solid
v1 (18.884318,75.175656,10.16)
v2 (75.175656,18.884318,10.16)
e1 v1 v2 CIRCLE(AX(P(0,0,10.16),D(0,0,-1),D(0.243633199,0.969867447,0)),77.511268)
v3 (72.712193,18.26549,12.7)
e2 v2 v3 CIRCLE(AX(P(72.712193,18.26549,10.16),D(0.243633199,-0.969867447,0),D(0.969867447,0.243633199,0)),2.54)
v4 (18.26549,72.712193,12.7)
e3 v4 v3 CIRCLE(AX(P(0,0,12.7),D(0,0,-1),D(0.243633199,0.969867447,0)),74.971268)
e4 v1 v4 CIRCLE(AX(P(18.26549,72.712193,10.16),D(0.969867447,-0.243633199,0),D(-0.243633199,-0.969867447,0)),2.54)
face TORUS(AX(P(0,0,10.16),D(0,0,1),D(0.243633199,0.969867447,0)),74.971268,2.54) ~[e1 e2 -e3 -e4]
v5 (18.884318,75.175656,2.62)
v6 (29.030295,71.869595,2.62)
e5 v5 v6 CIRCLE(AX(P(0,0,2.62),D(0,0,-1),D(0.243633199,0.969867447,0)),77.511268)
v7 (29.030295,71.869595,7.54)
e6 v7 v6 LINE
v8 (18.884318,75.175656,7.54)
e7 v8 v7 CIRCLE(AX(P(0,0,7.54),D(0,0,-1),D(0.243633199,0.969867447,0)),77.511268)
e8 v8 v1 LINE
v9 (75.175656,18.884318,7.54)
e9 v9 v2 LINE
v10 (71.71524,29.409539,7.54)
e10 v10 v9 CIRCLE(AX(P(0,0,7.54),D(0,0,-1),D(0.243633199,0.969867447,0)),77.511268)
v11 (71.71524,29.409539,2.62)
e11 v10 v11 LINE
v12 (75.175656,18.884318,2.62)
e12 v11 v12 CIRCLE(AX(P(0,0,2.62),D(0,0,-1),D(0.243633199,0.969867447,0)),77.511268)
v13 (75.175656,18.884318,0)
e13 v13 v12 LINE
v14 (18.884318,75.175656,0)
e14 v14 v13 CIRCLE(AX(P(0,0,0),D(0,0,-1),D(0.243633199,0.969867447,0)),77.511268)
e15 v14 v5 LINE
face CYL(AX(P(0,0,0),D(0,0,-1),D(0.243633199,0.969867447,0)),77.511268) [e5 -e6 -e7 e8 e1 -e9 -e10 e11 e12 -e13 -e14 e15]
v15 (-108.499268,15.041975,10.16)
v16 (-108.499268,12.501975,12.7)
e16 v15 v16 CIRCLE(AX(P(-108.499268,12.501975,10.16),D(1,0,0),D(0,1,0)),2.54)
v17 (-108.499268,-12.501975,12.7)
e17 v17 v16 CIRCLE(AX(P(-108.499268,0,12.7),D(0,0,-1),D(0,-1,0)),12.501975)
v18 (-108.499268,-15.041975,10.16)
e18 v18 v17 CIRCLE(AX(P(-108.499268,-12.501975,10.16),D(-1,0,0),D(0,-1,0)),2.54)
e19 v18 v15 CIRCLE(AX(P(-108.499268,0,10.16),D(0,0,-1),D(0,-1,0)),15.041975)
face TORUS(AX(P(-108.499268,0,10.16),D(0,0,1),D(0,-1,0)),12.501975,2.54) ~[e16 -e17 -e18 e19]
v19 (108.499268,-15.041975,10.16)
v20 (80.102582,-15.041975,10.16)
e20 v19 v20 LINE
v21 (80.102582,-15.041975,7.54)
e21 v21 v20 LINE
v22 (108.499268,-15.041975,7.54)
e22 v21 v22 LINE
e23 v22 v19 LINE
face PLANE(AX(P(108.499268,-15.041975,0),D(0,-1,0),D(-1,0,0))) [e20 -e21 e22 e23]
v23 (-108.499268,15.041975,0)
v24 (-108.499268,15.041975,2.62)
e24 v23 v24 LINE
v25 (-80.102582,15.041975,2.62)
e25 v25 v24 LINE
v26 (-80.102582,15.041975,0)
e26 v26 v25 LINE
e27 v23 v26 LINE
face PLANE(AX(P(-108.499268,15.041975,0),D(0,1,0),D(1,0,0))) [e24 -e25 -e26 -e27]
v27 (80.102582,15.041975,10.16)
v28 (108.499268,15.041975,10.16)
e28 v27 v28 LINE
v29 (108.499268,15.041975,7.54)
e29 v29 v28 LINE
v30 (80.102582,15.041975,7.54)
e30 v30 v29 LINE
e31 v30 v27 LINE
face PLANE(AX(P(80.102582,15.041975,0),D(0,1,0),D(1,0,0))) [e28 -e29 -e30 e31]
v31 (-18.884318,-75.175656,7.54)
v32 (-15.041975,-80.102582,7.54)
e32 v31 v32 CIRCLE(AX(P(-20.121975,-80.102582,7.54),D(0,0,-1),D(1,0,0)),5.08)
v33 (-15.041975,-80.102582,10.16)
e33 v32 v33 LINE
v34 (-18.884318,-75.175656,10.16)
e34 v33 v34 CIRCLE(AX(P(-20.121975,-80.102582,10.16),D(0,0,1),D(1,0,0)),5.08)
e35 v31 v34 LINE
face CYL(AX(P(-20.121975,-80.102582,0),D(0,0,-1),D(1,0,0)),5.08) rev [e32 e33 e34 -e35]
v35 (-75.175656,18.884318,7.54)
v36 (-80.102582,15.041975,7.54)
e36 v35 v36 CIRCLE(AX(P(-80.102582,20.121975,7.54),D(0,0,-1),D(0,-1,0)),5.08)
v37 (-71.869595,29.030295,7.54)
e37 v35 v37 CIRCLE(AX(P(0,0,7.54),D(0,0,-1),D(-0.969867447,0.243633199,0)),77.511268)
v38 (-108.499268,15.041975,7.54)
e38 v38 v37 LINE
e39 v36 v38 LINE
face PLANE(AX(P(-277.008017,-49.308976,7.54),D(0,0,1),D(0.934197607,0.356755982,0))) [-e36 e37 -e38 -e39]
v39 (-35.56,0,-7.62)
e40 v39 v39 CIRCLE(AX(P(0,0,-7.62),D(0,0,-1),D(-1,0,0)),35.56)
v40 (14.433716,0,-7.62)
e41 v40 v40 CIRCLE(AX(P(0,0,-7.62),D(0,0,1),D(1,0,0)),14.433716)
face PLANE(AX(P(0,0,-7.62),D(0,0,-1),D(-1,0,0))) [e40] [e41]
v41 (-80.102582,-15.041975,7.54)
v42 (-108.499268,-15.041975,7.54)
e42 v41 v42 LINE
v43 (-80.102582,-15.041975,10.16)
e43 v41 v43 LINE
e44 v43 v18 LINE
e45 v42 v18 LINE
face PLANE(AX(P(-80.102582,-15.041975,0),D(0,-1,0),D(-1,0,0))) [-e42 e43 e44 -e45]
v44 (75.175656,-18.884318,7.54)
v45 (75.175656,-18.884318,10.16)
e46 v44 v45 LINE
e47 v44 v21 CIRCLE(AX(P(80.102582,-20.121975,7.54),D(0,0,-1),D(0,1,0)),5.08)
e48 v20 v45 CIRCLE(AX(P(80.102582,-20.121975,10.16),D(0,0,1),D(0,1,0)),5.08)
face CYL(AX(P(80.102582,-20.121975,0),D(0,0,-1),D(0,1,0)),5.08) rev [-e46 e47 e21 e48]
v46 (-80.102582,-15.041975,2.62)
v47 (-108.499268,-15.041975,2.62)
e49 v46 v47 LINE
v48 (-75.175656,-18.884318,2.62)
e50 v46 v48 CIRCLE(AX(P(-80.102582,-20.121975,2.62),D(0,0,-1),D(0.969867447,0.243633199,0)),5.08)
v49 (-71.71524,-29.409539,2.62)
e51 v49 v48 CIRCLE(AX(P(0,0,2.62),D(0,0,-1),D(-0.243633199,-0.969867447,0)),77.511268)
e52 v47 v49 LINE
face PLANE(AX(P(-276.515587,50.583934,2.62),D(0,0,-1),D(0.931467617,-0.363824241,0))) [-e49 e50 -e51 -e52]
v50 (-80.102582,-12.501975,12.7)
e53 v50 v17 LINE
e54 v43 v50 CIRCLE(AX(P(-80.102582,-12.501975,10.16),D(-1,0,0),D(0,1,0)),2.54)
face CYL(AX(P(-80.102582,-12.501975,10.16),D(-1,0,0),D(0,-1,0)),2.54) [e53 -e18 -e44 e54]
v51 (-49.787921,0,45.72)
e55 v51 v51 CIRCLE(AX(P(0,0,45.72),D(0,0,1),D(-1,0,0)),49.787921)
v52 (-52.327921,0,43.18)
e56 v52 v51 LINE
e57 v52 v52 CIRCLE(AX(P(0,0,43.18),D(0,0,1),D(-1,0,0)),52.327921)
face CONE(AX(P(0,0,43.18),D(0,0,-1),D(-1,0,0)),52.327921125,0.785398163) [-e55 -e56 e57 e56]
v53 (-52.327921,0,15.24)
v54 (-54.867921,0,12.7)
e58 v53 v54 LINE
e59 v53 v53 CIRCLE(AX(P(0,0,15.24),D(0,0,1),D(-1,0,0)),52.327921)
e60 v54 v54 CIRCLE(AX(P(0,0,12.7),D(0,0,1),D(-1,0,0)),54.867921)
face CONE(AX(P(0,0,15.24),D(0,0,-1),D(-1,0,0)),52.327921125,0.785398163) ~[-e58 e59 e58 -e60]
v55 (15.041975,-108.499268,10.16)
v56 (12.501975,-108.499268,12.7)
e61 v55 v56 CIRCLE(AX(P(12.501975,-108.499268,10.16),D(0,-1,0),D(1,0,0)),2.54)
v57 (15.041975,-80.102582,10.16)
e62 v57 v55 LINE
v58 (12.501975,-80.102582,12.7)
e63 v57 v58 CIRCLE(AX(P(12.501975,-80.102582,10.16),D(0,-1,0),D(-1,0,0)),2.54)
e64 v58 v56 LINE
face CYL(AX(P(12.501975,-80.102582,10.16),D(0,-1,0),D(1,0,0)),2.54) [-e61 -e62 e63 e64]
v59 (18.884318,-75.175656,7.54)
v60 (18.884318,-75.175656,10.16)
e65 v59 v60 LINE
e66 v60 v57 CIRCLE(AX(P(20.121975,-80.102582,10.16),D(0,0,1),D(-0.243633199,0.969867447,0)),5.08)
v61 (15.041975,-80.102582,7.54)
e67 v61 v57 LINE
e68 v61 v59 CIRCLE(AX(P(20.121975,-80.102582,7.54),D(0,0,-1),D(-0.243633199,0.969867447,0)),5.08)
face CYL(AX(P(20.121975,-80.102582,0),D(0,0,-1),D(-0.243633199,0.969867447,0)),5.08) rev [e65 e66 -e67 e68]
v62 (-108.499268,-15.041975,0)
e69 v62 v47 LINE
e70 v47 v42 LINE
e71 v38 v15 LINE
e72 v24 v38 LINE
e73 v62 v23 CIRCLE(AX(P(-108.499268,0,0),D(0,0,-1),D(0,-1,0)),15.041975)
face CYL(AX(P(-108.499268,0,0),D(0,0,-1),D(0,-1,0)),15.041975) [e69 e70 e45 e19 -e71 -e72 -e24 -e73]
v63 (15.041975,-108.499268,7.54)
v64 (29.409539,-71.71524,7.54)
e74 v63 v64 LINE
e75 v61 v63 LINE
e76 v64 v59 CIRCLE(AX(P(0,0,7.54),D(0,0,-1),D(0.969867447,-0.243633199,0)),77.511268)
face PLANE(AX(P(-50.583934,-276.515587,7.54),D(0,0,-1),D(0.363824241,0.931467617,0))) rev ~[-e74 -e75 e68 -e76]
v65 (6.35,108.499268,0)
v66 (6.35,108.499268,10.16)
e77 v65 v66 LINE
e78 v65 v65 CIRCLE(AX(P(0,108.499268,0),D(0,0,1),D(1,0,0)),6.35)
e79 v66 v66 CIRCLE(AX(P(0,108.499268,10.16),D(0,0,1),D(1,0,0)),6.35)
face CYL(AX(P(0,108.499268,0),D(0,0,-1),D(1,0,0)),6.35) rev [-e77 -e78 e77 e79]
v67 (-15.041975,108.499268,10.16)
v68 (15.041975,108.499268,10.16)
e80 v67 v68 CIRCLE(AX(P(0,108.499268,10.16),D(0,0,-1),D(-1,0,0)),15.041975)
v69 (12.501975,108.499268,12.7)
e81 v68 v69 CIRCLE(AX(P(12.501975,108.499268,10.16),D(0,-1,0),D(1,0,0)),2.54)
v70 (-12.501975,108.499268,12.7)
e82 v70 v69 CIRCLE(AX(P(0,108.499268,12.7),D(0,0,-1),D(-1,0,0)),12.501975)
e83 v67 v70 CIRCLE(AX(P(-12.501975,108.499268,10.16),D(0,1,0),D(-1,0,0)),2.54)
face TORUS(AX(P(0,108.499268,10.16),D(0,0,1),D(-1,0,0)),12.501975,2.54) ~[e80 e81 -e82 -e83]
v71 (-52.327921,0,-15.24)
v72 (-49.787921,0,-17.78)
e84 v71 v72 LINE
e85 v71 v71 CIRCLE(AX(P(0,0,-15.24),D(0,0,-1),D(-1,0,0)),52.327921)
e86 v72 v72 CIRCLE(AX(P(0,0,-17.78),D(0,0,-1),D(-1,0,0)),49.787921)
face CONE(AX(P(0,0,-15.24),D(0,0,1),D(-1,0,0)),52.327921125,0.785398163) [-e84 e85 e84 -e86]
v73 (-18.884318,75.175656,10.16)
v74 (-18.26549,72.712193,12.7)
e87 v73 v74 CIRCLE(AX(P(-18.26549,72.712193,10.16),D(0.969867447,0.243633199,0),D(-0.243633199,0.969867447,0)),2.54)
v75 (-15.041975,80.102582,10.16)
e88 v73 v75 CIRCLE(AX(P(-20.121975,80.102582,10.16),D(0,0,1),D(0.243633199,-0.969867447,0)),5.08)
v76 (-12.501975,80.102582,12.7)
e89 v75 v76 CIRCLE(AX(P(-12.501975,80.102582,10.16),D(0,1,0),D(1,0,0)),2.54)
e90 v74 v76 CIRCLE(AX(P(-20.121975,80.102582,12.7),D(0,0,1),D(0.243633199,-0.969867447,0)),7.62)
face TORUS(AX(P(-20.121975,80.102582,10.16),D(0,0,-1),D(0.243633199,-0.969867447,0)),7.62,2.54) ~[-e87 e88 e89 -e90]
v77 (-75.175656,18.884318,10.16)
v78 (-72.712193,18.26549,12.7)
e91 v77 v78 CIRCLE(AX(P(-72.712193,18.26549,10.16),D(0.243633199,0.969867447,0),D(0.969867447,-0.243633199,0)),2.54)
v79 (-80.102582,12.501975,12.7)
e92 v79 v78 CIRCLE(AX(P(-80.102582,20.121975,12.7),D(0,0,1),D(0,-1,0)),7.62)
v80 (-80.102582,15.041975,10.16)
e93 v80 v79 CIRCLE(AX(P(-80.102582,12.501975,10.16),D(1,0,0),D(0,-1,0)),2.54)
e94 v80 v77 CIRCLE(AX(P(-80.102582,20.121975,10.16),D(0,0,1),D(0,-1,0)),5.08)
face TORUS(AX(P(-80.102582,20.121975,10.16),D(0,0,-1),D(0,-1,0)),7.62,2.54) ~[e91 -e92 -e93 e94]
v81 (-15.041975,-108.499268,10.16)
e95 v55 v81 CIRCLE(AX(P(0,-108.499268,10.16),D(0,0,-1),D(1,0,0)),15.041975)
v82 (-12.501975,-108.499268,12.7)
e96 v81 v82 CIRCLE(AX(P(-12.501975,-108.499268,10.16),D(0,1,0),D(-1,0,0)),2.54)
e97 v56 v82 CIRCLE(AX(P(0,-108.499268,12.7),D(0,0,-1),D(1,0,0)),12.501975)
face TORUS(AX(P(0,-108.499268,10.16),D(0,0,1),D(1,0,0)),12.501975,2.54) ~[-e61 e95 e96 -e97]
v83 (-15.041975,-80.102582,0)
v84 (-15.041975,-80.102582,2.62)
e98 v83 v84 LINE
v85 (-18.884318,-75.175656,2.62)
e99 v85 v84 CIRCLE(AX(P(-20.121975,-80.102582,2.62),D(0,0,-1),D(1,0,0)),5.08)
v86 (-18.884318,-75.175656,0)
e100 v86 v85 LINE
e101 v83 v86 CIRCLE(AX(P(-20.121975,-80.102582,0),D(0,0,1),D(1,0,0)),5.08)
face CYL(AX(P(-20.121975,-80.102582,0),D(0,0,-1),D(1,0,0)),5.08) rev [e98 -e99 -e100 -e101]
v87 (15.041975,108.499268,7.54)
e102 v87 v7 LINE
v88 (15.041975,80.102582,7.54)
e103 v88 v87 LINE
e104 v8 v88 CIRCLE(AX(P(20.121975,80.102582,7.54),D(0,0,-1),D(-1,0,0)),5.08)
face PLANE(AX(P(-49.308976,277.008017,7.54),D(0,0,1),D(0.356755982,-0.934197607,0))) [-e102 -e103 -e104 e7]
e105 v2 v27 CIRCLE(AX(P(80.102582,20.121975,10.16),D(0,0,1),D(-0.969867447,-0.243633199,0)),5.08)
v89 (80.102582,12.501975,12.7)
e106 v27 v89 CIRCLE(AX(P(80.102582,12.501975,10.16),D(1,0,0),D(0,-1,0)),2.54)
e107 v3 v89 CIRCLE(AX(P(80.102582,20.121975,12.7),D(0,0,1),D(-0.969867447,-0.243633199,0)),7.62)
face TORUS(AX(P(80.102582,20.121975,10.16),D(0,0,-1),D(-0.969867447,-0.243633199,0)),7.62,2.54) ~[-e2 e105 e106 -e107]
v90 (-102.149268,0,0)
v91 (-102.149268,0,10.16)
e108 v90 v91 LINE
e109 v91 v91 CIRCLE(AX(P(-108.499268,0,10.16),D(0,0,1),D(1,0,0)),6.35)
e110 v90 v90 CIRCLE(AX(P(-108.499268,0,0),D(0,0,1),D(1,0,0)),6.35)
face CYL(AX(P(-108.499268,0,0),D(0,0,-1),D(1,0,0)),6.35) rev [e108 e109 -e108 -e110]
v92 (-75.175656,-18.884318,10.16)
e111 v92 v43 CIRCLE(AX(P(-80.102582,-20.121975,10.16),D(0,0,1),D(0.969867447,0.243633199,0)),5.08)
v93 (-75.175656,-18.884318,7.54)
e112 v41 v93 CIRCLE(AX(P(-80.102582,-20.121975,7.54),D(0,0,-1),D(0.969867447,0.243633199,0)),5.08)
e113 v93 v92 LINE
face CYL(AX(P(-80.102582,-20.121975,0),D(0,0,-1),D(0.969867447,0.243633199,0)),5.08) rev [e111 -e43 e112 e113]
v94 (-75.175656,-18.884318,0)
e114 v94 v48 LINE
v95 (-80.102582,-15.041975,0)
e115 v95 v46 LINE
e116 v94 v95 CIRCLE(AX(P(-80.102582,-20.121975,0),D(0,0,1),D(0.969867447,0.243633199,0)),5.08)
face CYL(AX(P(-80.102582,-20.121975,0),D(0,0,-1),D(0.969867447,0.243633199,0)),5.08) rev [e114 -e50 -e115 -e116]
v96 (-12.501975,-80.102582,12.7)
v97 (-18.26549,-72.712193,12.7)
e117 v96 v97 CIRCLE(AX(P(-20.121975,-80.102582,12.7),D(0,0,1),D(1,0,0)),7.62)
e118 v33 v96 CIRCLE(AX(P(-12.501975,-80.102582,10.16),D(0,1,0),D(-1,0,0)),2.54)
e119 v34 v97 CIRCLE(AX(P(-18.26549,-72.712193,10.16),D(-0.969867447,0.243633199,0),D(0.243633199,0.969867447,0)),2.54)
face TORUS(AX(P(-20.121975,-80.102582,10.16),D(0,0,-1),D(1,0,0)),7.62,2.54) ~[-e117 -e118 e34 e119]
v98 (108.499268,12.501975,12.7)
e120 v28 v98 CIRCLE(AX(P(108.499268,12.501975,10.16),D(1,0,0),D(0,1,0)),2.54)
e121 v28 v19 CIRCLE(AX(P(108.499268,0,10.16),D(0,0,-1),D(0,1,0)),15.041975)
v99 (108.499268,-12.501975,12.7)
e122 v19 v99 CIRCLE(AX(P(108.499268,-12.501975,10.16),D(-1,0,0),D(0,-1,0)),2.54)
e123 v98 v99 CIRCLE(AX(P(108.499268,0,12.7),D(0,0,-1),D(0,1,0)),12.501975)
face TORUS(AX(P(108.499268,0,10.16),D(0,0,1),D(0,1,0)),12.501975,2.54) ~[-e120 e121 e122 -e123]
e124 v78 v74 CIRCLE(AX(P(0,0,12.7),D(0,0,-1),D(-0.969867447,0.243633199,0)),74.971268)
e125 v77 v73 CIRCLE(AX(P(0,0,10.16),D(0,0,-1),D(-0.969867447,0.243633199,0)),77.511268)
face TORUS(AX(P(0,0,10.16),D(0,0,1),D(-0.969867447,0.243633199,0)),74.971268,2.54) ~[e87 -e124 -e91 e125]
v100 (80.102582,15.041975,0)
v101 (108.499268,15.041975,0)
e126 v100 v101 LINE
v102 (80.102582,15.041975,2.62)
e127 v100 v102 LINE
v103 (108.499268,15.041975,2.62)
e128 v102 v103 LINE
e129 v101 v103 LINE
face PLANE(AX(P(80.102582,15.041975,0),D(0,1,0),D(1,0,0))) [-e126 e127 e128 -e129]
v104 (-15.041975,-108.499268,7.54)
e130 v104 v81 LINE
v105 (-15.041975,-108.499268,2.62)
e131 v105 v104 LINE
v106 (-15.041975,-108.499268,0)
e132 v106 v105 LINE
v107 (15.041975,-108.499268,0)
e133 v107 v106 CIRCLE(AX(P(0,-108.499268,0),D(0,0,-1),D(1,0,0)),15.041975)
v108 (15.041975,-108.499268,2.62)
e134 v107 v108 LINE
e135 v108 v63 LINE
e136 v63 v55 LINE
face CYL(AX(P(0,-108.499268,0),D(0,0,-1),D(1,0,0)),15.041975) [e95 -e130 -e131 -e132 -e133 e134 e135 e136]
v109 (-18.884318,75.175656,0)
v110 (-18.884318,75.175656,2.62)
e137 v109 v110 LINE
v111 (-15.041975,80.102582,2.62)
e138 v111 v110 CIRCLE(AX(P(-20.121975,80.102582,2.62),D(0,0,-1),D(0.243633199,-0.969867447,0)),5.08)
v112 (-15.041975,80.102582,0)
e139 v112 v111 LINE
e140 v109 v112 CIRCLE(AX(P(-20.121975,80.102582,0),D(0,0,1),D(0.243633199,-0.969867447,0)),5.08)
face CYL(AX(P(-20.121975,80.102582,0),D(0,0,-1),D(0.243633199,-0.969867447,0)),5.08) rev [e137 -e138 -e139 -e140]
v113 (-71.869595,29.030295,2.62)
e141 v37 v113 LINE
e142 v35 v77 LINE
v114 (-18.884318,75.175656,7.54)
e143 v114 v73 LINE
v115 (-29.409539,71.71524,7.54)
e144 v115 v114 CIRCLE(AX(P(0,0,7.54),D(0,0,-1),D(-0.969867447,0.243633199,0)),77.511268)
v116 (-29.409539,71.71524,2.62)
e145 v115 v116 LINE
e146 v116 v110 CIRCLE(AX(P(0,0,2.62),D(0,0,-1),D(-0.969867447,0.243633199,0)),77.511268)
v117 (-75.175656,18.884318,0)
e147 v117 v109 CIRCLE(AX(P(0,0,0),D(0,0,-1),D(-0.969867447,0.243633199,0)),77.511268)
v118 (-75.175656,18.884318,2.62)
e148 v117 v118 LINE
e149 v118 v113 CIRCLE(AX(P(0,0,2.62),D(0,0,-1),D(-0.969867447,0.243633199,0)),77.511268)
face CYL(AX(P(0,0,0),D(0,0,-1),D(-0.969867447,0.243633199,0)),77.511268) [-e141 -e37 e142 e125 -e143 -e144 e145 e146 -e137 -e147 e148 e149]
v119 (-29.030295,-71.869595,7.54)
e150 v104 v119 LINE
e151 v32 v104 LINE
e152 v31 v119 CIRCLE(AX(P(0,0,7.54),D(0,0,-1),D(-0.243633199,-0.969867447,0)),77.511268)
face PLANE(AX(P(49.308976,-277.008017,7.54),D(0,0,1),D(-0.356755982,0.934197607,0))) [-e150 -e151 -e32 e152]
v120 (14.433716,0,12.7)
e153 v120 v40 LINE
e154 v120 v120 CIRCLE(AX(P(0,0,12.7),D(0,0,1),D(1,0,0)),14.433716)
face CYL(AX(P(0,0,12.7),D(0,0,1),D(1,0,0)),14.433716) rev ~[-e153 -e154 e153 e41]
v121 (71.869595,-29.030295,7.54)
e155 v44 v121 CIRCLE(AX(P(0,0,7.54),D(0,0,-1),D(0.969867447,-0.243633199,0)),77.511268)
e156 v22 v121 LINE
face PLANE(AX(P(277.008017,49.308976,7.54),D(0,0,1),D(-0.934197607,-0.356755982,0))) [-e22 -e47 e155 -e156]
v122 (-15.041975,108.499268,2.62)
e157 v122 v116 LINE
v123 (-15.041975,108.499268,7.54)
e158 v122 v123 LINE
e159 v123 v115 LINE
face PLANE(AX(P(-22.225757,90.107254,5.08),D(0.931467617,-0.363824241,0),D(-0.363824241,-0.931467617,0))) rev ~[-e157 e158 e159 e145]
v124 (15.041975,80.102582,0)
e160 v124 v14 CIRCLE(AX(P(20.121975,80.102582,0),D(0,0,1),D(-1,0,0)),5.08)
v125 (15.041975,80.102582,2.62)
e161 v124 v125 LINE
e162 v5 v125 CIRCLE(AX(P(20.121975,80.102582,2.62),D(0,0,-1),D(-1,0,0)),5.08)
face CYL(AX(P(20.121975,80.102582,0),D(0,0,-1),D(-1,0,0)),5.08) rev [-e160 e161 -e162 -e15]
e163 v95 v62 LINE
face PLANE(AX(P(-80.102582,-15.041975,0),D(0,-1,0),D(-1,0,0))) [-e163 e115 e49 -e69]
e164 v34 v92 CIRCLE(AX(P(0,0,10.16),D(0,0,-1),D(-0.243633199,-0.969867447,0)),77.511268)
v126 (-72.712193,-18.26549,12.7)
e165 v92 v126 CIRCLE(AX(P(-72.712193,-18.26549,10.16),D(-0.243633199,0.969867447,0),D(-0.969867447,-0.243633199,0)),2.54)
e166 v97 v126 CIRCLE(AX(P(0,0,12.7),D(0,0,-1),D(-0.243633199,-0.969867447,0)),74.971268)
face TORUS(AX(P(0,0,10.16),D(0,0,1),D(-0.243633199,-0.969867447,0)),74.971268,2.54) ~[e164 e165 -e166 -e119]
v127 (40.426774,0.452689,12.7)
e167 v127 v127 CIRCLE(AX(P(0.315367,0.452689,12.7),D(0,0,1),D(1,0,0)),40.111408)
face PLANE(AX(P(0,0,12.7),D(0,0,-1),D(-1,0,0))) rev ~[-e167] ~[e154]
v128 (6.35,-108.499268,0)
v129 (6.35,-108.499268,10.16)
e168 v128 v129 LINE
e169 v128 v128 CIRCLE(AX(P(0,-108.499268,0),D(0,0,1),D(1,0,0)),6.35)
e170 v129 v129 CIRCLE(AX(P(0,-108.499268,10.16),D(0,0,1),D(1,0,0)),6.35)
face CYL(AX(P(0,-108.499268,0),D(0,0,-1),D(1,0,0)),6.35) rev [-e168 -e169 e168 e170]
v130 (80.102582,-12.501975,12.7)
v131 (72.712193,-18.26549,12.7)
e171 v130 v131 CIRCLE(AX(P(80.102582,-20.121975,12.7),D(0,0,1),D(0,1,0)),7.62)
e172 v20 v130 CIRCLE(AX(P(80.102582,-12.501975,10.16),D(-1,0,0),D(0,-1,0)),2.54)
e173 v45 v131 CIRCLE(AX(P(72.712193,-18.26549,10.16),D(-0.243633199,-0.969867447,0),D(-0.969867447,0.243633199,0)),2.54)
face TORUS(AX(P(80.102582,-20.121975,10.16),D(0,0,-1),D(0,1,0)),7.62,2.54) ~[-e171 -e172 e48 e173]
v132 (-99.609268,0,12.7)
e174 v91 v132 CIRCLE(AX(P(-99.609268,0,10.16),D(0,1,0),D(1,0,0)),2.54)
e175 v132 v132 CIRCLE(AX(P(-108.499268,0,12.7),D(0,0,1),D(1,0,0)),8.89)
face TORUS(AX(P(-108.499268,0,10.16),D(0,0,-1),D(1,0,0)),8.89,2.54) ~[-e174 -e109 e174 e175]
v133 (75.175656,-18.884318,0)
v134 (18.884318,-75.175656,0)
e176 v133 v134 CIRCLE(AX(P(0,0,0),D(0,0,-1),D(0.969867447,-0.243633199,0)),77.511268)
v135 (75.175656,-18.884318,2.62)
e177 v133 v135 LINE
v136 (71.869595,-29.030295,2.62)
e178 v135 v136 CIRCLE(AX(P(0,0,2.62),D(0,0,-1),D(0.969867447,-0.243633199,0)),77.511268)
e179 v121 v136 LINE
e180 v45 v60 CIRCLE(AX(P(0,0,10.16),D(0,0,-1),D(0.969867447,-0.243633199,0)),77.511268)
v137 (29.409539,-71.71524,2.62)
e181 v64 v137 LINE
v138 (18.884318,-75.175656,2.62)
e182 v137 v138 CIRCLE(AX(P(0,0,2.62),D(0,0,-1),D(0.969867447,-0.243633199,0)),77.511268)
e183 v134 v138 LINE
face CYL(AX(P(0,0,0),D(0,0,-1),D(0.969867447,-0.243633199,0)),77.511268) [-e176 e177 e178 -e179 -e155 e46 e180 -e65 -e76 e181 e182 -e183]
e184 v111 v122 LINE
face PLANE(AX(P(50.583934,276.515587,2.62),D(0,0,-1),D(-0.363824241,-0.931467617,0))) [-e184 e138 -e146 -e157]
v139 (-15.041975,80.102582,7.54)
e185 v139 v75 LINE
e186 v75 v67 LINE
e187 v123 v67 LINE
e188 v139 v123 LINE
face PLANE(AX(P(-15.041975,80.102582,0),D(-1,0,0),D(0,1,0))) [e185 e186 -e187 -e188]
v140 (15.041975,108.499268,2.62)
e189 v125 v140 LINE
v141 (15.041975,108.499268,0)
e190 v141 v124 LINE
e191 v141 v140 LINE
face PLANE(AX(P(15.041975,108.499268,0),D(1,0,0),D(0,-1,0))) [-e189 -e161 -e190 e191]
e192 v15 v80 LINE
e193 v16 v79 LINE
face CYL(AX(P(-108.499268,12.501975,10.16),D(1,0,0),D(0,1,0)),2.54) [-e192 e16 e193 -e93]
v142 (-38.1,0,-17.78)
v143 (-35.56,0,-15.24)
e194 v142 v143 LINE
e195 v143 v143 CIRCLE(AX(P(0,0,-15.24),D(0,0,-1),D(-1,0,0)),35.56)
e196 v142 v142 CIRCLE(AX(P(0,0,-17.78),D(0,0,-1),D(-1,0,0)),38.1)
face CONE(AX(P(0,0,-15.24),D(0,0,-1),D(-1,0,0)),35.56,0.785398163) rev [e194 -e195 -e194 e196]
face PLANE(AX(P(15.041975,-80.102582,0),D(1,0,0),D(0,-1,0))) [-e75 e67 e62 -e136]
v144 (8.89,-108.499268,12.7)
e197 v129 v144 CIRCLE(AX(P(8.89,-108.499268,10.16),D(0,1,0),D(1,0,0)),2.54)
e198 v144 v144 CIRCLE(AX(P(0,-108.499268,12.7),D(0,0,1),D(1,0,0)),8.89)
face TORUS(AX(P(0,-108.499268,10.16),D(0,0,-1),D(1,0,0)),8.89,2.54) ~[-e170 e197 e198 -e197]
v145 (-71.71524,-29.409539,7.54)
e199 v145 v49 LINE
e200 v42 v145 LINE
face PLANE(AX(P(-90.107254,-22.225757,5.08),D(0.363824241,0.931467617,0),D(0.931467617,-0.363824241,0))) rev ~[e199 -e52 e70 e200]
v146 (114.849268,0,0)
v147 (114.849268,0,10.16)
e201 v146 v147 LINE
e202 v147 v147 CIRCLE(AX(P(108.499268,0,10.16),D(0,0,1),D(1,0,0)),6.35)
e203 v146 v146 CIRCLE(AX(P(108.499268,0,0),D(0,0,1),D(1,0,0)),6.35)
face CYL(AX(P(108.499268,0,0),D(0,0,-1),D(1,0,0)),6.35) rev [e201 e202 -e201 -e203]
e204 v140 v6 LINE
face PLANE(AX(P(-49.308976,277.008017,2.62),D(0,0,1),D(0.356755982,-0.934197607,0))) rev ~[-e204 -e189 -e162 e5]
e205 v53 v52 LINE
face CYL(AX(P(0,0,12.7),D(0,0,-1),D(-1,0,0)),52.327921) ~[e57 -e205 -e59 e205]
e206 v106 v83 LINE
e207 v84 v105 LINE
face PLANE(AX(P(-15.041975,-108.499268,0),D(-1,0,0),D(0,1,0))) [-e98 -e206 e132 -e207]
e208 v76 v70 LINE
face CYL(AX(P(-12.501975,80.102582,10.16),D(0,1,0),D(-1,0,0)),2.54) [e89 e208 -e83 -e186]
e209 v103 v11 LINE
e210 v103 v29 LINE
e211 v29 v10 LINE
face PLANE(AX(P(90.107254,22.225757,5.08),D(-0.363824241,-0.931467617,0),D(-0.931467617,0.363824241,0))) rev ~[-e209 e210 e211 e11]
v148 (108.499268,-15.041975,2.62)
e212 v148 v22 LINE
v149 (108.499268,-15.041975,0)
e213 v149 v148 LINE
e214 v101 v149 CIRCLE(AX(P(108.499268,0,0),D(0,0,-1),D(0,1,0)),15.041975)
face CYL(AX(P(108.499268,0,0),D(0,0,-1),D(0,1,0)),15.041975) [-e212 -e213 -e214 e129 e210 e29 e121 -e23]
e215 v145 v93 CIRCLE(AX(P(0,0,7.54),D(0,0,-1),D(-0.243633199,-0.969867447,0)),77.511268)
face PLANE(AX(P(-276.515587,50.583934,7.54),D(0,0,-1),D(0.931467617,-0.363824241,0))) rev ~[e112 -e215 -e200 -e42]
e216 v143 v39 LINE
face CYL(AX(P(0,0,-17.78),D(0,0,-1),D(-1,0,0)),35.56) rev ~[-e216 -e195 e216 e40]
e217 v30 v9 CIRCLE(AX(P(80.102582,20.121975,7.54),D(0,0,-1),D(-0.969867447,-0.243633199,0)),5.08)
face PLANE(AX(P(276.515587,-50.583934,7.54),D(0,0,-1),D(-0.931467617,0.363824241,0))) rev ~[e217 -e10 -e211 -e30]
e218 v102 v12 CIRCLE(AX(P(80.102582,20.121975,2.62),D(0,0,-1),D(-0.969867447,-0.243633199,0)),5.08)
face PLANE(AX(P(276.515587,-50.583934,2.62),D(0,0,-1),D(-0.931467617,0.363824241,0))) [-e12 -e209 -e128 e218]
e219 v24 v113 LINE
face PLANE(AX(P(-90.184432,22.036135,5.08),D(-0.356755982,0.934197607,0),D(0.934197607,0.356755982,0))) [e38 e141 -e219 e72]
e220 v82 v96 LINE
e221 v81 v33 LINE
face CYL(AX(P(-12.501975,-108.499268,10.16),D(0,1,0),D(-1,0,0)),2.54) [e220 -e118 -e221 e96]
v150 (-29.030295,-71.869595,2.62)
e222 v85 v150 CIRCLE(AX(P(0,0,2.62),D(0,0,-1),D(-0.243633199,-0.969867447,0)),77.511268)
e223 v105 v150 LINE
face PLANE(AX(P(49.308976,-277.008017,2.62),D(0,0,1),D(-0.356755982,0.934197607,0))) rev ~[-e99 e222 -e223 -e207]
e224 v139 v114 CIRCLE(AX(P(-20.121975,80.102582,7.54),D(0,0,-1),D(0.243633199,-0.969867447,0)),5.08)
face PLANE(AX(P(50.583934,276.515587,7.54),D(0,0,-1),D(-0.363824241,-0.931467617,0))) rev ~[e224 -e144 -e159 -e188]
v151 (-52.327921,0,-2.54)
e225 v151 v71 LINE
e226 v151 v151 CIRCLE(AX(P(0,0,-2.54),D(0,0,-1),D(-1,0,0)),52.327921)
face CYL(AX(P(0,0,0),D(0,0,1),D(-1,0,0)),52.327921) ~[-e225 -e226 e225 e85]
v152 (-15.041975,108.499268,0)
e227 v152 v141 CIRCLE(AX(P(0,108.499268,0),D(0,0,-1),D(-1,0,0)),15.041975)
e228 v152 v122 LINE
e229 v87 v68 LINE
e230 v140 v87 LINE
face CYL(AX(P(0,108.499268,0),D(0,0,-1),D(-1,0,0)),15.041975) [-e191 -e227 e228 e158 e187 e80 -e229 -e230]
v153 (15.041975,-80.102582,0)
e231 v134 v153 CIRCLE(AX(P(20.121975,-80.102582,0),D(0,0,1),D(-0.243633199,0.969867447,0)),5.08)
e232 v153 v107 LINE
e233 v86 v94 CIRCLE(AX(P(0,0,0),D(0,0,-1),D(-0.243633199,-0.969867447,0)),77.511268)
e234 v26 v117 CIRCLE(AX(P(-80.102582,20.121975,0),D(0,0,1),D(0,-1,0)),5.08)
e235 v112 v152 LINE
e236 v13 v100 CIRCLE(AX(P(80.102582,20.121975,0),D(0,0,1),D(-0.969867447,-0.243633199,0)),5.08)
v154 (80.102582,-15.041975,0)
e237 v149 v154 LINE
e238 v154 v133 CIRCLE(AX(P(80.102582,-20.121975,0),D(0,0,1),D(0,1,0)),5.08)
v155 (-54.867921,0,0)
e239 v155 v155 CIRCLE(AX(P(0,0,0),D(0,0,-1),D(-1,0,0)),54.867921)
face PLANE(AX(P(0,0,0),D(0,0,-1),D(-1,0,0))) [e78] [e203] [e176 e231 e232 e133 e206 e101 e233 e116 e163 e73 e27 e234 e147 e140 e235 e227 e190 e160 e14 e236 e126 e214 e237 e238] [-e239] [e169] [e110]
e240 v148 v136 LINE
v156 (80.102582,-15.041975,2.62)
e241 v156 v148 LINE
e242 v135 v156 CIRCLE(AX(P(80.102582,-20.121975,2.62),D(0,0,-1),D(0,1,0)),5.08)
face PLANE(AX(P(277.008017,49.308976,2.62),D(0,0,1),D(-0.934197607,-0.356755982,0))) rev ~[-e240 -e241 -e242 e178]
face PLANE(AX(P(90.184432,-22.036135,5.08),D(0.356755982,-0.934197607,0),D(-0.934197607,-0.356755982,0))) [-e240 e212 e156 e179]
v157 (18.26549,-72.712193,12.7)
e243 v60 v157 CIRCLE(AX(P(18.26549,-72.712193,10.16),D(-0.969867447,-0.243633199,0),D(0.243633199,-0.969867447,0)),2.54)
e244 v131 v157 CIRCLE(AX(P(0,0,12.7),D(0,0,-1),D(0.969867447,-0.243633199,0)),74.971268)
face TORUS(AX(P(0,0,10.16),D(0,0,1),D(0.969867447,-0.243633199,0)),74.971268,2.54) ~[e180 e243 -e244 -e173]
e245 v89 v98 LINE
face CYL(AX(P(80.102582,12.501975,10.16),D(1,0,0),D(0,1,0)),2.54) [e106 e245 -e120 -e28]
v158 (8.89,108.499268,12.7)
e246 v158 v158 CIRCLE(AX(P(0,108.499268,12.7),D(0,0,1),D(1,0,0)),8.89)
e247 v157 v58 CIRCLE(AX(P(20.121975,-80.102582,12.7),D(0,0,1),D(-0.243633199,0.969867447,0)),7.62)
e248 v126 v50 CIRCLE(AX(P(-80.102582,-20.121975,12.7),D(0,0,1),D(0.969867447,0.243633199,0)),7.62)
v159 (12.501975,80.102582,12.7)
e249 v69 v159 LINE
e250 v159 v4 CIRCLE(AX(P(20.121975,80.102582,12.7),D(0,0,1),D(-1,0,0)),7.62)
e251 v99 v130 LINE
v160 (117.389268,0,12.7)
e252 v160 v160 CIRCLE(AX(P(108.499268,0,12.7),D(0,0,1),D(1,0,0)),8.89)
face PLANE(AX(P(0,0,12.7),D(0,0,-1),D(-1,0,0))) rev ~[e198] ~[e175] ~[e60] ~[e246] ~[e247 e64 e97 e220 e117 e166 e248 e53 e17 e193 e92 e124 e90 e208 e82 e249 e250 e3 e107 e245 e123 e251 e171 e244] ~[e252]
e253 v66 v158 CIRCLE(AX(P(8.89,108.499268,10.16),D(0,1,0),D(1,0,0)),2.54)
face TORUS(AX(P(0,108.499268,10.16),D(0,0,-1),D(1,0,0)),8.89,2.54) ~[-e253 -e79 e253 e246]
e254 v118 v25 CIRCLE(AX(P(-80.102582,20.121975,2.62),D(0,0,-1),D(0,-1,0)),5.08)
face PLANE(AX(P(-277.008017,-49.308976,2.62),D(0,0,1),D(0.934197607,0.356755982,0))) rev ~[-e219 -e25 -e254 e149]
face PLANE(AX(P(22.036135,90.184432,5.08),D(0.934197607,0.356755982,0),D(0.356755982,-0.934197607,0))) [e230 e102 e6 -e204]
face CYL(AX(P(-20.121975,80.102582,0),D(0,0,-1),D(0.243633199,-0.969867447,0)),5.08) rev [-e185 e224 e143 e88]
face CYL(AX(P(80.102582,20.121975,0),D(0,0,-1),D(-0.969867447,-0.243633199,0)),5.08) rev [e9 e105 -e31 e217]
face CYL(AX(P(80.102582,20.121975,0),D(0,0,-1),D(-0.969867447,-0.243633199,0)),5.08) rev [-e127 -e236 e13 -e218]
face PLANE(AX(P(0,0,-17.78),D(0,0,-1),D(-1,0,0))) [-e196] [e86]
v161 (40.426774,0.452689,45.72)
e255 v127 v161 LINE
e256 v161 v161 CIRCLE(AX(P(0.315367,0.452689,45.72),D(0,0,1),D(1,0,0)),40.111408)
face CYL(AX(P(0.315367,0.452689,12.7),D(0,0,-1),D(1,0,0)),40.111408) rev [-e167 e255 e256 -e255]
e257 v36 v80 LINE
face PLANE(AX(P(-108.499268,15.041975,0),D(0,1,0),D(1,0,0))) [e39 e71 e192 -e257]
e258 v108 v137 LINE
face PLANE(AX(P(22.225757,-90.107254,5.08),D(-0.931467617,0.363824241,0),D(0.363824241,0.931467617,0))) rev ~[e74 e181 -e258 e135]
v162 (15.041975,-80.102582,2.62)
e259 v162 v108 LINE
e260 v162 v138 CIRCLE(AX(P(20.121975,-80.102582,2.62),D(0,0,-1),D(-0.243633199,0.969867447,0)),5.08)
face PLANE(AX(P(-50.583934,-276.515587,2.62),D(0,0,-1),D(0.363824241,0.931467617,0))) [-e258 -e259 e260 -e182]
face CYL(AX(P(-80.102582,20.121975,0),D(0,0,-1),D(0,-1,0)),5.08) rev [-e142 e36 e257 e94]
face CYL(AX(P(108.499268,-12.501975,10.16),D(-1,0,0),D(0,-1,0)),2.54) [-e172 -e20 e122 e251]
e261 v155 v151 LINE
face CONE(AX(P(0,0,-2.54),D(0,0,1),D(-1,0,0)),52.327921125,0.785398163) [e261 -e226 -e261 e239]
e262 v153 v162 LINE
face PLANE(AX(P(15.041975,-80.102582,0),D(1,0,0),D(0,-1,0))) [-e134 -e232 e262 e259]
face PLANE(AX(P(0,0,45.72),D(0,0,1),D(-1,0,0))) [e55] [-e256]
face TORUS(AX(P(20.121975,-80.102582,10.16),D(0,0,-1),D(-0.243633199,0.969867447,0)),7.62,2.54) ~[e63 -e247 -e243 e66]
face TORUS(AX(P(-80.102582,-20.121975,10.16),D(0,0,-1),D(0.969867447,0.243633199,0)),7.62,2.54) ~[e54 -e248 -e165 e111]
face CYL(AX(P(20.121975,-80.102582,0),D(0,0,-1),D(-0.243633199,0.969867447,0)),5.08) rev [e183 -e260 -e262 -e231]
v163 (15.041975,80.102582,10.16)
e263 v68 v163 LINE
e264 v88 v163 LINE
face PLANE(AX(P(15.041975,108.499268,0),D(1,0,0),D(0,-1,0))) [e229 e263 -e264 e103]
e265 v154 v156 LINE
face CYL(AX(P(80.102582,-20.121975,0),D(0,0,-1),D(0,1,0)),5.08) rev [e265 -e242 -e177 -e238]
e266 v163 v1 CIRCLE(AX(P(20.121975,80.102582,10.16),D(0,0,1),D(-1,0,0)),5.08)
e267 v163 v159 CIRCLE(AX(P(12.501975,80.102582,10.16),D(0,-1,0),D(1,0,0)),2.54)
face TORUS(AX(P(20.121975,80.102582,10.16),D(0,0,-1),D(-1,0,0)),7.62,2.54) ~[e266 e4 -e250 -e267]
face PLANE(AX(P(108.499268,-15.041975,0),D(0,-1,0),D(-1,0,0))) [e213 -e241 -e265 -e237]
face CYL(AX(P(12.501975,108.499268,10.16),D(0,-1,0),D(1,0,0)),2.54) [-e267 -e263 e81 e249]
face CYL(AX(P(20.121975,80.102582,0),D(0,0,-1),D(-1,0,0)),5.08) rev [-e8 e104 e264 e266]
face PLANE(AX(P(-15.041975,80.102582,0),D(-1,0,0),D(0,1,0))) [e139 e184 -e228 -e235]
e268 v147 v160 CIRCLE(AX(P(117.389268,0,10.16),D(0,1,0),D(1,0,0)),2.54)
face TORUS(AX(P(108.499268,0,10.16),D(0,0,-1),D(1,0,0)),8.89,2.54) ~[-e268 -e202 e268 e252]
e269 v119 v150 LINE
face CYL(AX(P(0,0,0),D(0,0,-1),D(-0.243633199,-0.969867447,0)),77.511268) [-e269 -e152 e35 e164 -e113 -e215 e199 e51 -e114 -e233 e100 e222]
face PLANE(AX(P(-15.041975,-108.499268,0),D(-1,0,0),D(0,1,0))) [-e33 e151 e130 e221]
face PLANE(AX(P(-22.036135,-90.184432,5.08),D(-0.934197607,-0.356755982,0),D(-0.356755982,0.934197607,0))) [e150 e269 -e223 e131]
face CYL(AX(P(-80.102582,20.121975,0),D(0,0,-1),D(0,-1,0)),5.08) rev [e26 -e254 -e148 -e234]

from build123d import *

# Parameters (mm, degrees)
SKETCH1_R          = 6.35
EXTRUDE1_DEPTH     = 12.7
SKETCH3_R          = 52.327921125
SKETCH3_R_2        = 40.111407582
EXTRUDE3_DEPTH     = 33.02
CHAMFER1_SIZE      = 2.54
CHAMFER2_SIZE      = 2.54
SKETCH6_R          = 52.327921125
EXTRUDE4_DEPTH     = 17.78
SKETCH7_R          = 35.56
CUT_EXTRUDE2_DEPTH = 10.16
SKETCH5_R          = 14.433715845
CUT_EXTRUDE1_DEPTH = 189.047450874
CHAMFER3_SIZE      = 2.54
FILLET1_R          = 2.54
RIB1_REACH         = 181.378
SKETCH8_WALL_W     = 400.24651193
SKETCH8_WALL_H     = 4.92
CIRPATTERN1_COUNT  = 4
RIB2_REACH         = 181.378
SKETCH9_WALL_W     = 399.965882856
SKETCH9_WALL_H     = 4.92
CIRPATTERN2_COUNT  = 4


with BuildPart() as part:
    # Sketch1 → Extrude1 (new body)
    with BuildSketch(Plane.XY):
        with BuildLine():
            Line((-108.499268261, 15.041974925), (-80.102582468, 15.041974925))
            ThreePointArc((-80.102582468, 15.041974925), (-76.978554283, 16.116123218), (-75.175655839, 18.884318272))
            ThreePointArc((-75.175655839, 18.884318272), (-54.808743405, 54.808743405), (-18.884318272, 75.175655839))
            ThreePointArc((-18.884318272, 75.175655839), (-16.116123218, 76.978554283), (-15.041974925, 80.102582468))
            Line((-15.041974925, 80.102582468), (-15.041974925, 108.499268261))
            ThreePointArc((-15.041974925, 108.499268261), (0, 123.541243186), (15.041974925, 108.499268261))
            Line((15.041974925, 108.499268261), (15.041974925, 80.102582468))
            ThreePointArc((15.041974925, 80.102582468), (16.116123218, 76.978554283), (18.884318272, 75.175655839))
            ThreePointArc((18.884318272, 75.175655839), (54.808743405, 54.808743405), (75.175655839, 18.884318272))
            ThreePointArc((75.175655839, 18.884318272), (76.978554283, 16.116123218), (80.102582468, 15.041974925))
            Line((80.102582468, 15.041974925), (108.499268261, 15.041974925))
            ThreePointArc((108.499268261, 15.041974925), (123.541243186, 0), (108.499268261, -15.041974925))
            Line((108.499268261, -15.041974925), (80.102582468, -15.041974925))
            ThreePointArc((80.102582468, -15.041974925), (76.978554283, -16.116123218), (75.175655839, -18.884318272))
            ThreePointArc((75.175655839, -18.884318272), (54.808743405, -54.808743405), (18.884318272, -75.175655839))
            ThreePointArc((18.884318272, -75.175655839), (16.116123218, -76.978554283), (15.041974925, -80.102582468))
            Line((15.041974925, -80.102582468), (15.041974925, -108.499268261))
            ThreePointArc((15.041974925, -108.499268261), (0, -123.541243186), (-15.041974925, -108.499268261))
            Line((-15.041974925, -108.499268261), (-15.041974925, -80.102582468))
            ThreePointArc((-15.041974925, -80.102582468), (-16.116123218, -76.978554283), (-18.884318272, -75.175655839))
            ThreePointArc((-18.884318272, -75.175655839), (-54.808743405, -54.808743405), (-75.175655839, -18.884318272))
            ThreePointArc((-75.175655839, -18.884318272), (-76.978554283, -16.116123218), (-80.102582468, -15.041974925))
            Line((-80.102582468, -15.041974925), (-108.499268261, -15.041974925))
            ThreePointArc((-108.499268261, -15.041974925), (-123.541243186, 0), (-108.499268261, 15.041974925))
        make_face()
        with Locations((-108.499268261, 0)):
            Circle(SKETCH1_R, mode=Mode.SUBTRACT)
        with Locations((0, 108.499268261)):
            Circle(SKETCH1_R, mode=Mode.SUBTRACT)
        with Locations((108.499268261, 0)):
            Circle(SKETCH1_R, mode=Mode.SUBTRACT)
        with Locations((0, -108.499268261)):
            Circle(SKETCH1_R, mode=Mode.SUBTRACT)
    extrude(amount=EXTRUDE1_DEPTH)

    # Sketch3 → Extrude3 (add)
    with BuildSketch(Plane(origin=(-17.13936337, 18.877140209, 12.7), x_dir=(1, 0, 0), z_dir=(0, 0, 1))):
        with Locations(Location((17.13936337, -18.877140209, 0), (0, 0, 180))):
            Circle(SKETCH3_R)
        with Locations((17.454729956, -18.424450968)):
            Circle(SKETCH3_R_2, mode=Mode.SUBTRACT)
    extrude(amount=EXTRUDE3_DEPTH)

    # Chamfer1
    chamfer1_edges = [part.edges().sort_by_distance(p)[0] for p in [
        (52.327921125, 0, 45.72),
    ]]
    chamfer(chamfer1_edges, length=CHAMFER1_SIZE)

    # Chamfer2
    chamfer2_edges = [part.edges().sort_by_distance(p)[0] for p in [
        (52.327921125, 0, 12.7),
    ]]
    chamfer(chamfer2_edges, length=CHAMFER2_SIZE)

    # Sketch6 → Extrude4 (add)
    with BuildSketch(Plane(origin=(-20.565222676, 19.927315007, 0), x_dir=(-1, 0, 0), z_dir=(0, 0, -1))):
        with Locations((-20.565222676, -19.927315007)):
            Circle(SKETCH6_R)
    extrude(amount=EXTRUDE4_DEPTH)

    # Sketch7 → Cut-Extrude2 (cut)
    with BuildSketch(Plane(origin=(-3.078400565, -13.387465701, -17.78), x_dir=(-1, 0, 0), z_dir=(0, 0, -1))):
        with Locations((-3.078400565, 13.387465701)):
            Circle(SKETCH7_R)
    extrude(amount=-CUT_EXTRUDE2_DEPTH, mode=Mode.SUBTRACT)

    # Sketch5 → Cut-Extrude1 (cut, through all)
    with BuildSketch(Plane(origin=(3.316629154, -11.286808812, 12.7), x_dir=(1, 0, 0), z_dir=(0, 0, 1))):
        with Locations((-3.316629154, 11.286808812)):
            Circle(SKETCH5_R)
    extrude(amount=-CUT_EXTRUDE1_DEPTH, mode=Mode.SUBTRACT)

    # Chamfer3
    chamfer3_edges = [part.edges().sort_by_distance(p)[0] for p in [
        (35.56, 0, -17.78),
        (52.327921125, 0, 0),
        (52.327921125, 0, -17.78),
    ]]
    chamfer(chamfer3_edges, length=CHAMFER3_SIZE)

    # Fillet1
    fillet1_edges = [part.edges().sort_by_distance(p)[0] for p in [
        (-76.978554283, 16.116123218, 12.7),
        (-94.300925364, 15.041974925, 12.7),
        (-123.541243186, 0, 12.7),
        (-94.300925364, -15.041974925, 12.7),
        (-76.978554283, -16.116123218, 12.7),
        (-54.808743405, -54.808743405, 12.7),
        (-16.116123218, -76.978554283, 12.7),
        (-15.041974925, -94.300925364, 12.7),
        (0, -123.541243186, 12.7),
        (15.041974925, -94.300925364, 12.7),
        (-16.116123218, 76.978554283, 12.7),
        (16.116123218, -76.978554283, 12.7),
        (54.808743405, -54.808743405, 12.7),
        (76.978554283, -16.116123218, 12.7),
        (94.300925364, -15.041974925, 12.7),
        (123.541243186, 0, 12.7),
        (-114.849268261, 0, 12.7),
        (94.300925364, 15.041974925, 12.7),
        (-6.35, 108.499268261, 12.7),
        (76.978554283, 16.116123218, 12.7),
        (54.808743405, 54.808743405, 12.7),
        (102.149268261, 0, 12.7),
        (16.116123218, 76.978554283, 12.7),
        (-6.35, -108.499268261, 12.7),
        (15.041974925, 94.300925364, 12.7),
        (-54.808743405, 54.808743405, 12.7),
        (0, 123.541243186, 12.7),
        (-15.041974925, 94.300925364, 12.7),
    ]]
    fillet(fillet1_edges, radius=FILLET1_R)

    # Sketch8 wall → Rib1 (add, up to next)
    with BuildSketch(Plane(origin=(-22.225757145, 90.107254317, 5.08), x_dir=(-0.36382424062, -0.931467617224, 0), z_dir=(0.931467617224, -0.36382424062, 0)), mode=Mode.PRIVATE) as rib1_sk1:
        Rectangle(SKETCH8_WALL_W, SKETCH8_WALL_H)
    rib1_tool1 = extrude(rib1_sk1.sketch, amount=RIB1_REACH, mode=Mode.PRIVATE) - part.part
    rib1 = rib1_tool1.solids().sort_by_distance((-22.225757145, 90.107254317, 5.08))[0]
    add(rib1)

    # CirPattern1: Rib1 ×4 about axis
    cirpattern1_axis = Axis((0, 0, 0), (0, 0, 1))
    for i in range(1, CIRPATTERN1_COUNT):
        add(rib1.rotate(cirpattern1_axis, i * 360 / CIRPATTERN1_COUNT))

    # Sketch9 wall → Rib2 (add, up to next)
    with BuildSketch(Plane(origin=(22.036134923, 90.184431626, 5.08), x_dir=(0.356755982247, -0.934197607111, 0), z_dir=(0.934197607111, 0.356755982247, 0)), mode=Mode.PRIVATE) as rib2_sk1:
        Rectangle(SKETCH9_WALL_W, SKETCH9_WALL_H)
    rib2_tool1 = extrude(rib2_sk1.sketch, amount=-RIB2_REACH, mode=Mode.PRIVATE) - part.part
    rib2 = rib2_tool1.solids().sort_by_distance((22.036134923, 90.184431626, 5.08))[0]
    add(rib2)

    # CirPattern2: Rib2 ×4 about axis
    cirpattern2_axis = Axis((0, 0, 0), (0, 0, 1))
    for i in range(1, CIRPATTERN2_COUNT):
        add(rib2.rotate(cirpattern2_axis, i * 360 / CIRPATTERN2_COUNT))


solid = part.part
